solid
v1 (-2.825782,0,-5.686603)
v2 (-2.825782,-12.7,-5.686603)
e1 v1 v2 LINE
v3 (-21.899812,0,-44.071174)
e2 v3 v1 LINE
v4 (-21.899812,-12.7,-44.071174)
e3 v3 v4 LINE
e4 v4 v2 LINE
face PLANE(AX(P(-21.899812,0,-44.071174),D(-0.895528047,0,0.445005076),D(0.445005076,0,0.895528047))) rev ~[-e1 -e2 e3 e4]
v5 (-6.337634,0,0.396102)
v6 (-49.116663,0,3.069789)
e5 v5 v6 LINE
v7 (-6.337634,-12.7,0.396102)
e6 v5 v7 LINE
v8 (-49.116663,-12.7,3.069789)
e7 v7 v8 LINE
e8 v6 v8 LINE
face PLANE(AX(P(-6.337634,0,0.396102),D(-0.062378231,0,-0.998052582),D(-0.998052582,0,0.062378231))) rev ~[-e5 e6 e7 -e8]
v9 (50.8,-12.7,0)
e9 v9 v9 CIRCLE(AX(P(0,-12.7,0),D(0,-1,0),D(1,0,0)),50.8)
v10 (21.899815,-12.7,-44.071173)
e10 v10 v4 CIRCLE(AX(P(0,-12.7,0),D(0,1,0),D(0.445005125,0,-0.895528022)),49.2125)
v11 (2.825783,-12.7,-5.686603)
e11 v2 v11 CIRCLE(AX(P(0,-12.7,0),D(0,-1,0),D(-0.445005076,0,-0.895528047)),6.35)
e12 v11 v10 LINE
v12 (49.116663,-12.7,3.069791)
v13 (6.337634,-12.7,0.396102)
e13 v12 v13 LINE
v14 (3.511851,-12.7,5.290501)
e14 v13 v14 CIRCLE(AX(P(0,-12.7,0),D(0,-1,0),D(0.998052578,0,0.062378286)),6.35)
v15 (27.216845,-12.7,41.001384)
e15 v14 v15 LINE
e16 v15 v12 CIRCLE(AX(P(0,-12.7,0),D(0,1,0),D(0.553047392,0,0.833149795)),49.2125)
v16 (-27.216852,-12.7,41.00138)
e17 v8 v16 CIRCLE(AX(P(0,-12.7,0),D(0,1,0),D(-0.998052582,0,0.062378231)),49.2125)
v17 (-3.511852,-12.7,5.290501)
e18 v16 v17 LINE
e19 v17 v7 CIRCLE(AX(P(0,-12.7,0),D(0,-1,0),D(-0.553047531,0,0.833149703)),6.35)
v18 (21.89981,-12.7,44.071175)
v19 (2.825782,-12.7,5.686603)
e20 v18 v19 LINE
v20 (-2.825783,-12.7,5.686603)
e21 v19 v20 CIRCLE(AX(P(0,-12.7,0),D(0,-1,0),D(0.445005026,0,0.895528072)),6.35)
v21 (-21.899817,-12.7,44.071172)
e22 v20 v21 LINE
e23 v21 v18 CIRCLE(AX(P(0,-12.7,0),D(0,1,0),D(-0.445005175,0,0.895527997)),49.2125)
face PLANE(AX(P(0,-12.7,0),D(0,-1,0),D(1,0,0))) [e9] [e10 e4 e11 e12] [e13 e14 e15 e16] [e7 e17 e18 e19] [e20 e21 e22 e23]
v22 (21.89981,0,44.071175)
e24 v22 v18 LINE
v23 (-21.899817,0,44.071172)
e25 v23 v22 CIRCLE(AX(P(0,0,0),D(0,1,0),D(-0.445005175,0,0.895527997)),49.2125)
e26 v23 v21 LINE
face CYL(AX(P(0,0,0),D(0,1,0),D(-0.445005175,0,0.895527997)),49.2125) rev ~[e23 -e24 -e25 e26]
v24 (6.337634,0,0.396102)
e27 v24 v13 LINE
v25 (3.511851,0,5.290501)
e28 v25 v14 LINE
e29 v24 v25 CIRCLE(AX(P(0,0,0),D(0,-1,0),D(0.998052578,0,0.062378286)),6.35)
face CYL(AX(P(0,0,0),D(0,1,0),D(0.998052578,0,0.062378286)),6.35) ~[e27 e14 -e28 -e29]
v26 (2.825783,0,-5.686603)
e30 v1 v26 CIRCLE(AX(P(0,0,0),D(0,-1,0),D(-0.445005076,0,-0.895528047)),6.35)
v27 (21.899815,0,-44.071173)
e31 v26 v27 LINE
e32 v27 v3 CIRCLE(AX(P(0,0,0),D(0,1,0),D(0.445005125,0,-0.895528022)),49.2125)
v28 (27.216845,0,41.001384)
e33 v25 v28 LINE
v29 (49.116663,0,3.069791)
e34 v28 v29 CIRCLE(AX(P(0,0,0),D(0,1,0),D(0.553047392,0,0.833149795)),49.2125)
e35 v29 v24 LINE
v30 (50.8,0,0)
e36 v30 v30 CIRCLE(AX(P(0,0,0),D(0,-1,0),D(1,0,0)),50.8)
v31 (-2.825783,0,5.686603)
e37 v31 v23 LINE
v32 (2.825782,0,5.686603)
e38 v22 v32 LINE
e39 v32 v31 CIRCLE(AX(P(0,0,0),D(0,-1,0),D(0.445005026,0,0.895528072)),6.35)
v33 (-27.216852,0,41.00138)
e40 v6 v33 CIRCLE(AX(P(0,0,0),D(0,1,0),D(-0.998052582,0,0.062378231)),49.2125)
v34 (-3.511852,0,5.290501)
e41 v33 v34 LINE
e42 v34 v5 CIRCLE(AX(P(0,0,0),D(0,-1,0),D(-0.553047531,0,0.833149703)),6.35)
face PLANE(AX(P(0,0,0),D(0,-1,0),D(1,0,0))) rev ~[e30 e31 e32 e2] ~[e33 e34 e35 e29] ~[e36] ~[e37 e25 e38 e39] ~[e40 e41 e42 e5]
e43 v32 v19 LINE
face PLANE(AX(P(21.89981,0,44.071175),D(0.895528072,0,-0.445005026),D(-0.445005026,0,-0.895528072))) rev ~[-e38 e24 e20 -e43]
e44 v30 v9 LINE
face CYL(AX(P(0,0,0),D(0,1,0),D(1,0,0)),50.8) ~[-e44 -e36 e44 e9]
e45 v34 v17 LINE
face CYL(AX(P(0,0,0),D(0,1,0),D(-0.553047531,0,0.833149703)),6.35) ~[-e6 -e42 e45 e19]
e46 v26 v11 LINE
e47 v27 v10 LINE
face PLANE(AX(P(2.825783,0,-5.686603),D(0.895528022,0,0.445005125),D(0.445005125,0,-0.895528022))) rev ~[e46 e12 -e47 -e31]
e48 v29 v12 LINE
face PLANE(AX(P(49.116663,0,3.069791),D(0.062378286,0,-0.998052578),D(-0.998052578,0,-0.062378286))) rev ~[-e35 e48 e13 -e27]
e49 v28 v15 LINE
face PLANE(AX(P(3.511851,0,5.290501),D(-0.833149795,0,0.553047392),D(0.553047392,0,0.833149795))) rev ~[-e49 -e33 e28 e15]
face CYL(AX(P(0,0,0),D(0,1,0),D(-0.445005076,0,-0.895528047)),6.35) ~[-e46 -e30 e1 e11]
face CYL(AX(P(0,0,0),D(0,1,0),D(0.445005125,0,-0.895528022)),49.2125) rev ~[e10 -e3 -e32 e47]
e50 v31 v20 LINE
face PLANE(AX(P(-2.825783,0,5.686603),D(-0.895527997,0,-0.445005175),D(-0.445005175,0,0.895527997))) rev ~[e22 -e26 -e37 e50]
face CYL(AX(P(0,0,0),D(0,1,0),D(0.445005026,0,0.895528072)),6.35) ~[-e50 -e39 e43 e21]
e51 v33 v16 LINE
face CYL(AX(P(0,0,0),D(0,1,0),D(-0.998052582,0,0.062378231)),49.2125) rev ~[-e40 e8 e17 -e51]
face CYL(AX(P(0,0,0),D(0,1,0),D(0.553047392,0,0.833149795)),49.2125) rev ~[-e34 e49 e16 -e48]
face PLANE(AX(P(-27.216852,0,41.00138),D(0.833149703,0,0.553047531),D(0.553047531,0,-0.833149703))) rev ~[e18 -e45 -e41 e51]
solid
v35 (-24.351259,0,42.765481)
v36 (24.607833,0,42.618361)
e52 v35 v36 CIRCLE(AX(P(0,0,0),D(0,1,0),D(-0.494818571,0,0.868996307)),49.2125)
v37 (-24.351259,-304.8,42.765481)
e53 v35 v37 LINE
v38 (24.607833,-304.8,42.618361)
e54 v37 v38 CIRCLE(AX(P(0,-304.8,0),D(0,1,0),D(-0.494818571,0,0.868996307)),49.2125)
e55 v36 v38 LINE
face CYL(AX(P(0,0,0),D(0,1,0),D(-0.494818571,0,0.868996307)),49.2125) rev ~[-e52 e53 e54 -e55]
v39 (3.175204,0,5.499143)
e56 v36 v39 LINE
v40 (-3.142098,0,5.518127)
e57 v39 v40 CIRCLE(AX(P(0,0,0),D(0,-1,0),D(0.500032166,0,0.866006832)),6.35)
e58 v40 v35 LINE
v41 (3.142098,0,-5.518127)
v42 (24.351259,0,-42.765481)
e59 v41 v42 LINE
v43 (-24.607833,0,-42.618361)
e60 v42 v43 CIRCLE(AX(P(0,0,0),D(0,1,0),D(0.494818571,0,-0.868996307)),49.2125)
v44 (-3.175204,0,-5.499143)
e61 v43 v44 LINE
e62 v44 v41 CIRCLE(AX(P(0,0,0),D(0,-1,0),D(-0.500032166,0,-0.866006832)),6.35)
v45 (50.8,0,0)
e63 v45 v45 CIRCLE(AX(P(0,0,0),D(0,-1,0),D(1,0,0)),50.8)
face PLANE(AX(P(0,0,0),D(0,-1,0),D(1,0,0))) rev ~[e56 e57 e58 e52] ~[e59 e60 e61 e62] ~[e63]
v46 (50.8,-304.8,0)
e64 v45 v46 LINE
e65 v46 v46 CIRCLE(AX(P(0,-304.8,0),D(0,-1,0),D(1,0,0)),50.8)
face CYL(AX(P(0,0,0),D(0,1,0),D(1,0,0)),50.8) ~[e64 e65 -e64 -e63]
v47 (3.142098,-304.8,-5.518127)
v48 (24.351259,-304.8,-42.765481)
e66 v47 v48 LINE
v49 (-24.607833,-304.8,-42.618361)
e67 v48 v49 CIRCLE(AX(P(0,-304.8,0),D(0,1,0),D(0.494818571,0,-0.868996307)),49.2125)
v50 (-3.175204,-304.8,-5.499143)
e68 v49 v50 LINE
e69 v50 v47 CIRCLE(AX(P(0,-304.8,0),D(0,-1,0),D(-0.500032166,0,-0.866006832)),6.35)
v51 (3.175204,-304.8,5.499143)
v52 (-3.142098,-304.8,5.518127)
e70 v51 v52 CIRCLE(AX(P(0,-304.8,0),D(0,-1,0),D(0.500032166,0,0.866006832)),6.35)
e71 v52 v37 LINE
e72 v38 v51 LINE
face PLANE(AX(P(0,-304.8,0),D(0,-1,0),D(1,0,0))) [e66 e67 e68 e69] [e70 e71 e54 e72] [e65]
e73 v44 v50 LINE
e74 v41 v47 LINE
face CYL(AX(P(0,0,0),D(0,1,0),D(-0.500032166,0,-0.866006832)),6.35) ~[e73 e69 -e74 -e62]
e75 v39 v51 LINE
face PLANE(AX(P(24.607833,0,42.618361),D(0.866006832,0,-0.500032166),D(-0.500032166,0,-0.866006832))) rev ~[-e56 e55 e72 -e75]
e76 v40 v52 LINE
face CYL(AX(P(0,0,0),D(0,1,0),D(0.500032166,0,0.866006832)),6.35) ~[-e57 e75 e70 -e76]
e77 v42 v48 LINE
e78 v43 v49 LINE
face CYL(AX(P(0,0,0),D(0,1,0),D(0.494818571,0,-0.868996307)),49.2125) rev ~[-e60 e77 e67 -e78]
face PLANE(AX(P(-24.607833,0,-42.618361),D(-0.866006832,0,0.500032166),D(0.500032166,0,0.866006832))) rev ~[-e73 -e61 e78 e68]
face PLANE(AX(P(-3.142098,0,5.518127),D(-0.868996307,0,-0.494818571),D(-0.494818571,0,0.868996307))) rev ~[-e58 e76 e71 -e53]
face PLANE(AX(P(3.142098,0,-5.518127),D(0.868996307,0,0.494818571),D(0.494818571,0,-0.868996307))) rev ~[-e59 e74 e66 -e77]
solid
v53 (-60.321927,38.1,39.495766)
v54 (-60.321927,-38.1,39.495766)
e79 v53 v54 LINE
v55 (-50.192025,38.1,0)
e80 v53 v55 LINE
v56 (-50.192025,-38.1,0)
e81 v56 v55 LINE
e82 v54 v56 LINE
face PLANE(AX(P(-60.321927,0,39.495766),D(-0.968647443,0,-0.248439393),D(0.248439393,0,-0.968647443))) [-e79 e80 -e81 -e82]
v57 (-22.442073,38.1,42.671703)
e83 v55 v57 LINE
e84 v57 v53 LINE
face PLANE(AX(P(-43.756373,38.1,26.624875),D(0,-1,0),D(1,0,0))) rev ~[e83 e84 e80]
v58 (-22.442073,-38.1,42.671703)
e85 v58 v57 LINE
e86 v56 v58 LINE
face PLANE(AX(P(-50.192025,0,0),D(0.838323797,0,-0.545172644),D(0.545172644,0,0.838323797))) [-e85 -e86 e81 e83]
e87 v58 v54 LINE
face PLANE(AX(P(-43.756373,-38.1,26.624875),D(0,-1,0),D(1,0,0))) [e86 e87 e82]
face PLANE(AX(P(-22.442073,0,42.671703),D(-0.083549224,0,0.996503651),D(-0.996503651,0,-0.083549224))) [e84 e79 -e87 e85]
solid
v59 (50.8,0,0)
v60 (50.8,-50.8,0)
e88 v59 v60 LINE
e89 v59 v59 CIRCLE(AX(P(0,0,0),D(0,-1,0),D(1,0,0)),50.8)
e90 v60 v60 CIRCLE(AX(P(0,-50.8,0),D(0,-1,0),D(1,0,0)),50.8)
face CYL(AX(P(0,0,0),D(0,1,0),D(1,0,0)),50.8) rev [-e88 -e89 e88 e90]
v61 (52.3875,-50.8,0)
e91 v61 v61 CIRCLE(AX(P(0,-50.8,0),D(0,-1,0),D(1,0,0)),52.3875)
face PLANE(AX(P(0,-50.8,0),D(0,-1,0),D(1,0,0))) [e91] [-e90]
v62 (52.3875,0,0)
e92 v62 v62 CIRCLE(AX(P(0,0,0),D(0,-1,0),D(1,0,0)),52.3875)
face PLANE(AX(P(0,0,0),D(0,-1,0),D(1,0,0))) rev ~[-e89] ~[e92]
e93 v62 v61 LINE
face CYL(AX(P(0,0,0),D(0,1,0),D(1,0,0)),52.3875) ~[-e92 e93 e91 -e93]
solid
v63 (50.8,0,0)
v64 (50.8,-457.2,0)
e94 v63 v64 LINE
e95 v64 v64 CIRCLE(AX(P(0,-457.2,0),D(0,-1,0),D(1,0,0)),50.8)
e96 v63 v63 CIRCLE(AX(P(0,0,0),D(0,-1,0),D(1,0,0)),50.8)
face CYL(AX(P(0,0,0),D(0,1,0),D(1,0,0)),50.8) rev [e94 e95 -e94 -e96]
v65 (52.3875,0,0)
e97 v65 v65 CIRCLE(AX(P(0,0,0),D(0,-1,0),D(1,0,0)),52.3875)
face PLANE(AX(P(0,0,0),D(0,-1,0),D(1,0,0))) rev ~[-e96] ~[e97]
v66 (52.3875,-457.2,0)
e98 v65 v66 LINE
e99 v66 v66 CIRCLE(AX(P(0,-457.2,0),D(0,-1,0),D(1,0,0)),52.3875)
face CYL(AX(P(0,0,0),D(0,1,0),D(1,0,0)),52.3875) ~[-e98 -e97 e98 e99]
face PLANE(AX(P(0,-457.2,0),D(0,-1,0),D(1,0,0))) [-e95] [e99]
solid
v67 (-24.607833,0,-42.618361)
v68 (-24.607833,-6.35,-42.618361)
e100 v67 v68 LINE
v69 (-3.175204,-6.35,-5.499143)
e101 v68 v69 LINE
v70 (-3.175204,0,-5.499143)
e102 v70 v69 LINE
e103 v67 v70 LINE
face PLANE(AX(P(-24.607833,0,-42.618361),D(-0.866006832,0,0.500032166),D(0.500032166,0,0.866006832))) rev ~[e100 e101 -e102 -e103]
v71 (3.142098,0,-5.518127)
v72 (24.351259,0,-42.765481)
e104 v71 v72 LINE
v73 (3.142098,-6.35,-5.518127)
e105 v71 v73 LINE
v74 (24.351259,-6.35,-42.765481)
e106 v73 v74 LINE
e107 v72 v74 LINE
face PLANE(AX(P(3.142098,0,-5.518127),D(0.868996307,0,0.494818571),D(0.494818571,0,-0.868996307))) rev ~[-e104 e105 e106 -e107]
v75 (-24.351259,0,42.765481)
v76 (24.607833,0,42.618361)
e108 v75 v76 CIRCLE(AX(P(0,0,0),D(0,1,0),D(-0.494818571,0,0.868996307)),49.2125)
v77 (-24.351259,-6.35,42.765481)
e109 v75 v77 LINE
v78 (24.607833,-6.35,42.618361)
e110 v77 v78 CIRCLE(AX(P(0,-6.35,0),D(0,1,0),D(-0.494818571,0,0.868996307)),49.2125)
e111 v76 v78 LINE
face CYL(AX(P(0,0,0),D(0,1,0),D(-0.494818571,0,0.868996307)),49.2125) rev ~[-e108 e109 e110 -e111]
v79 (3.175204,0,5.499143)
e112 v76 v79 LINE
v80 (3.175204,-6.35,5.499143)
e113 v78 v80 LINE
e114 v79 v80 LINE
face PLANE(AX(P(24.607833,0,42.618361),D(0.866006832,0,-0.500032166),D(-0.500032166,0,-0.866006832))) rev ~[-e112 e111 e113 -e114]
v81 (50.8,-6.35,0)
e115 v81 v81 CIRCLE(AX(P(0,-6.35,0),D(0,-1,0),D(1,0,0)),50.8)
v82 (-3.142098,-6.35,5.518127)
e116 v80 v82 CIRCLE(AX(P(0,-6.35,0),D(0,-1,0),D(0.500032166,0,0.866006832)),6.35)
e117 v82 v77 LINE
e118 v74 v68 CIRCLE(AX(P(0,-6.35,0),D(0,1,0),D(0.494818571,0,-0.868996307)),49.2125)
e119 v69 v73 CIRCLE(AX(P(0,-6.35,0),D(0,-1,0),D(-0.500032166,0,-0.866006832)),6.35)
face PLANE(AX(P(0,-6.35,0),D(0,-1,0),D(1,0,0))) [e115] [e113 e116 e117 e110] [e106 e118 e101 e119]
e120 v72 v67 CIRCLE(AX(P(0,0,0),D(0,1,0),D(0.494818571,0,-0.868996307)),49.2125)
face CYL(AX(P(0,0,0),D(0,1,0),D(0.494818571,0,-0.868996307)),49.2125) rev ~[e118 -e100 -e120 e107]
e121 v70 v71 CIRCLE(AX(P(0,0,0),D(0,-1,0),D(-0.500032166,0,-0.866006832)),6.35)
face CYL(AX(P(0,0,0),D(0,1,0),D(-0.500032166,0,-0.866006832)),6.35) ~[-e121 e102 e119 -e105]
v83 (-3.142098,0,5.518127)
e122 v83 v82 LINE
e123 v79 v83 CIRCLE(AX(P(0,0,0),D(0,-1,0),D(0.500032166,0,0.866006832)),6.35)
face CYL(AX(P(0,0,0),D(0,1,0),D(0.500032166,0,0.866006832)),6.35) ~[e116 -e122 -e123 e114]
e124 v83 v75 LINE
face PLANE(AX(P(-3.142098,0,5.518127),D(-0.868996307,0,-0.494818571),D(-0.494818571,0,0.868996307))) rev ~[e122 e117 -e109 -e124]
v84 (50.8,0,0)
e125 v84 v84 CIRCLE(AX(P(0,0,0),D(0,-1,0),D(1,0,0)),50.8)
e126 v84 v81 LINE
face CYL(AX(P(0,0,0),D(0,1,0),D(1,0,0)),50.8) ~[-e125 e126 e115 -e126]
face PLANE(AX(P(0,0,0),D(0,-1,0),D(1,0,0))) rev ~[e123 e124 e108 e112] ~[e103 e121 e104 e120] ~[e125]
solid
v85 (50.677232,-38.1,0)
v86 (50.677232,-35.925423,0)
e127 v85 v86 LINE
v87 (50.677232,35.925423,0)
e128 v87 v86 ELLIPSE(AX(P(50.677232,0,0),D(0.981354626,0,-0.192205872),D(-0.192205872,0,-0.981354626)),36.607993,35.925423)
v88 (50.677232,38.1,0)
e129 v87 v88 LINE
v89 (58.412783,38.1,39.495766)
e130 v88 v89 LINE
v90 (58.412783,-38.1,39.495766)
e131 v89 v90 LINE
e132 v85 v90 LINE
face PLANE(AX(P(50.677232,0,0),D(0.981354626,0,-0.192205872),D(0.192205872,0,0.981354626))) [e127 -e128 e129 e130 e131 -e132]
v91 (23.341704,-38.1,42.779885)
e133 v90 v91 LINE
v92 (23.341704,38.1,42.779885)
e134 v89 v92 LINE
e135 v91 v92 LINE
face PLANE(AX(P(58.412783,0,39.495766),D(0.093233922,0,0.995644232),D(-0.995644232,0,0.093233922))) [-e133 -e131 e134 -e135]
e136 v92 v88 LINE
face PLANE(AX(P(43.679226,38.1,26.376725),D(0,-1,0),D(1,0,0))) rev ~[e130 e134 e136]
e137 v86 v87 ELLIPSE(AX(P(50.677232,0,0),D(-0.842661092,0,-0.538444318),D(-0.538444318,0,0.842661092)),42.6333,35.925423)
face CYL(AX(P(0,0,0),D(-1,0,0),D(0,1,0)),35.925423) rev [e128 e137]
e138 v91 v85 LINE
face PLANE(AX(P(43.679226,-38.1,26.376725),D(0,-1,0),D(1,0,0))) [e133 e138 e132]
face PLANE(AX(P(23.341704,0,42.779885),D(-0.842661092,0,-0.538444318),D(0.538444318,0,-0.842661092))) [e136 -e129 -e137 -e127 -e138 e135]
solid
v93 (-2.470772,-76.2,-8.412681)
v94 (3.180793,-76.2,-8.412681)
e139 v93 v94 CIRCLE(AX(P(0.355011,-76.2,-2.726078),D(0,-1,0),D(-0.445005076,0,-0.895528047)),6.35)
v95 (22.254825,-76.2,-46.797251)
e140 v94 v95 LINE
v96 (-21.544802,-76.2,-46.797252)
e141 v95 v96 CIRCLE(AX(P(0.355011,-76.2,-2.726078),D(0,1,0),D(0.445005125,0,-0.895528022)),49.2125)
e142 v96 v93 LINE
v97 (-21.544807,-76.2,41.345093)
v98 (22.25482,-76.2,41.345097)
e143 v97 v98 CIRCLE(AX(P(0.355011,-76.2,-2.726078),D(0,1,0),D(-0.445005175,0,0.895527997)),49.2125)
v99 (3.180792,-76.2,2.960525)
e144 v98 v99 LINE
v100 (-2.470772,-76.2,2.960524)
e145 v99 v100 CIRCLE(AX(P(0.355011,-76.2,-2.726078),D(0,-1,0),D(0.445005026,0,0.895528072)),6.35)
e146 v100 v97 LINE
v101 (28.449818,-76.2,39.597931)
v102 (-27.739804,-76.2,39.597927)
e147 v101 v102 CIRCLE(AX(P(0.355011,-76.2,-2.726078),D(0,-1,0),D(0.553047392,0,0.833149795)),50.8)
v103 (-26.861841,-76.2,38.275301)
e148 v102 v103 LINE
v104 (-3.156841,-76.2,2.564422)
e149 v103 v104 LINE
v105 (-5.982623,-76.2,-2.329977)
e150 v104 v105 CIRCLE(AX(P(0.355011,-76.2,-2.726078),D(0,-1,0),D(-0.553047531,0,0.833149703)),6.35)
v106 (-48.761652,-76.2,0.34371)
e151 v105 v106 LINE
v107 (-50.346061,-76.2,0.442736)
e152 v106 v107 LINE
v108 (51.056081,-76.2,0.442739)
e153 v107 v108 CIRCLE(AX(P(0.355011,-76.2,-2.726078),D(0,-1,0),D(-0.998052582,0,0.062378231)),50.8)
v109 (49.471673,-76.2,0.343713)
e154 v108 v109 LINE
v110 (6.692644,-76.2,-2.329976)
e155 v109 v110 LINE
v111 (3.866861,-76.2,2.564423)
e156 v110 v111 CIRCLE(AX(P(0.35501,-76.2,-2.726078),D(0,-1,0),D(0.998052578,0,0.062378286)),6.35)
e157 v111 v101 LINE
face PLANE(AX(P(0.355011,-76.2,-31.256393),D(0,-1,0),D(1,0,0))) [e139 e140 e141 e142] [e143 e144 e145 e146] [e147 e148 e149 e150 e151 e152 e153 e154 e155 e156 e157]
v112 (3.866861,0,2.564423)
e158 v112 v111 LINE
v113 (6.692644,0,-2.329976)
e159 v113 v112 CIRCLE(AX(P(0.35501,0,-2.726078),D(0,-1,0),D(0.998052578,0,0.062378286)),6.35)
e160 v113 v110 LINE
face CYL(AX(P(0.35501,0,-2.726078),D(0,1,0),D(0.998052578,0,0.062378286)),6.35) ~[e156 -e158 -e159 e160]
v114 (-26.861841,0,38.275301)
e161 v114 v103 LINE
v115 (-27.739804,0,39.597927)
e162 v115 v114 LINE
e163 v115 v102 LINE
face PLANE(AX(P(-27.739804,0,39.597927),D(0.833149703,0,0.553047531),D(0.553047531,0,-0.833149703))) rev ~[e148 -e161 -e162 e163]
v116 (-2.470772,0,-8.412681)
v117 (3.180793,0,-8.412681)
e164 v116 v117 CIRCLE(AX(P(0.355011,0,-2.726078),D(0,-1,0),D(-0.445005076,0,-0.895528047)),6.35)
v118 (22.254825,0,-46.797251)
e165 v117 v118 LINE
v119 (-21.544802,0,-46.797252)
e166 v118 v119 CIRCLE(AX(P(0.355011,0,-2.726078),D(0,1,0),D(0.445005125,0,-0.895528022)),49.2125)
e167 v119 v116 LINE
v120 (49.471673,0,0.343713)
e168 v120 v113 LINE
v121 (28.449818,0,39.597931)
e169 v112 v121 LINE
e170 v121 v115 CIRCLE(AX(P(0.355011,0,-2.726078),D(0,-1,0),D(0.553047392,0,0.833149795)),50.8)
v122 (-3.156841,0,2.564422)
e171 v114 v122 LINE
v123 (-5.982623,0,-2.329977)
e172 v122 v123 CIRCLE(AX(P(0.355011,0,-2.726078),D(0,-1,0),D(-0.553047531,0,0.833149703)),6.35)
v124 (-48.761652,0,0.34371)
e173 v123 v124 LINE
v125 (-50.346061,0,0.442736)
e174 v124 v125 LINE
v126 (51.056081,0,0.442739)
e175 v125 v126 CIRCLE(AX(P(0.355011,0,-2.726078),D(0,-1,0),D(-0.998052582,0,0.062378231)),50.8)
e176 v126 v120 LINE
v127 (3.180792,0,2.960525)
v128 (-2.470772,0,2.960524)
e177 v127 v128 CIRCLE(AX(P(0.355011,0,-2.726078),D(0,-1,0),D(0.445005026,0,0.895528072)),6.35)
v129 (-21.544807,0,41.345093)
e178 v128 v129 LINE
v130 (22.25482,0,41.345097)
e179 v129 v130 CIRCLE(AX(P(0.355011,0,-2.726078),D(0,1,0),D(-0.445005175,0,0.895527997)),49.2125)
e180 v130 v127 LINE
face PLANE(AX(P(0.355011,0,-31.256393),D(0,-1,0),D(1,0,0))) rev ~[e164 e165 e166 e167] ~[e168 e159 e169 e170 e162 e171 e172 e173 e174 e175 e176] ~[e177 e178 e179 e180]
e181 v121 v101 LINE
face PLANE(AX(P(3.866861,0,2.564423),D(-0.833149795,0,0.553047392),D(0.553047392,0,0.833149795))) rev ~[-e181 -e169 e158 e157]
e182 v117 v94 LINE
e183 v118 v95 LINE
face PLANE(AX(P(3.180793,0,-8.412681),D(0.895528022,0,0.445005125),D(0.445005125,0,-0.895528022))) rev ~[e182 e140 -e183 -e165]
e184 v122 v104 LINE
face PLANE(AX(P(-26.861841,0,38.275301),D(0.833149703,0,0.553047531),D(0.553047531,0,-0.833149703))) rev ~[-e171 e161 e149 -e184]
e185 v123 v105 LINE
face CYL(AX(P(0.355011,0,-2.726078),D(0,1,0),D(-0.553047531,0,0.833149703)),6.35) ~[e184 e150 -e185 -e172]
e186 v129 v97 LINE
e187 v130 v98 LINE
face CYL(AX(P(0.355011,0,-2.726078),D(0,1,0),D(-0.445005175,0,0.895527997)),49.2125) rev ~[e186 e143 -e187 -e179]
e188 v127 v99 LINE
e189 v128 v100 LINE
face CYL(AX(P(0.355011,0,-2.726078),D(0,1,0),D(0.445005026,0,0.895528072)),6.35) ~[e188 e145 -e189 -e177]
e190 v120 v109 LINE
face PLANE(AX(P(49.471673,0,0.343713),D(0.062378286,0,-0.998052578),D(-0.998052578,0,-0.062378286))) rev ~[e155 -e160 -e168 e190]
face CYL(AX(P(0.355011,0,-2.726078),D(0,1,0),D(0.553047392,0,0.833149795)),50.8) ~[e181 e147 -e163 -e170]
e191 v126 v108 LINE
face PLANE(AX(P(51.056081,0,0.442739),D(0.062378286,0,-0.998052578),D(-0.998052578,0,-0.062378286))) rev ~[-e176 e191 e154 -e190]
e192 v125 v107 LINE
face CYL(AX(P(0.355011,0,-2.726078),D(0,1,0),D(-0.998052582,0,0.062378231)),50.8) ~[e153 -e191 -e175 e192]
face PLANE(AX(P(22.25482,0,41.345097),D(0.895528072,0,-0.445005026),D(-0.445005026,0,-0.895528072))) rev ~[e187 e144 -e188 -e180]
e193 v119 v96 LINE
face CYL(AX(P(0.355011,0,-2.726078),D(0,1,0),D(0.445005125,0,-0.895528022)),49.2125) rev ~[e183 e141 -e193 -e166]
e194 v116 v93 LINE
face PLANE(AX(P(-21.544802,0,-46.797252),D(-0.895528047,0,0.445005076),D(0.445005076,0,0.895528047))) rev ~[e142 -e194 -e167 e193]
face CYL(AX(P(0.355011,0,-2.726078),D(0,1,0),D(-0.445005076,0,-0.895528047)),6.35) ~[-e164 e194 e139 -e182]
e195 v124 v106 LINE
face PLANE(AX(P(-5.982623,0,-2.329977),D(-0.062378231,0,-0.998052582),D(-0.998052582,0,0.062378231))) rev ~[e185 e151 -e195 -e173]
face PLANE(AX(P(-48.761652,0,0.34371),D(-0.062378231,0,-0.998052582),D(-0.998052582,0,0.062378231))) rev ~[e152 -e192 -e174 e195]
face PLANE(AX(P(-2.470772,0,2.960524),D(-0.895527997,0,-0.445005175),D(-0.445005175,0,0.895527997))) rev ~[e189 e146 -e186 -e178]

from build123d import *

# Parameters (mm, degrees)
F0_R      = 50.8
F1_DEPTH  = 12.7
F2_R      = 50.8
F3_DEPTH  = 304.8
F5_DEPTH  = 76.2
F6_DEPTH  = 6.35
F7_R      = 52.3875
F7_R_2    = 50.8
F8_DEPTH  = 457.2
F9_DEPTH  = 50.8
F11_DEPTH = 38.1
F13_DEPTH = 58.4137828479


with BuildPart() as f1:
    # F0 (on Front) → F1 (new body)
    with BuildSketch(Plane.XZ):
        Circle(F0_R)
        with BuildLine():
            ThreePointArc((-2.8257822299, -5.6866030976), (1.766e-07, -6.35), (2.8257825462, -5.6866029404))
            Line((2.8257825462, -5.6866029404), (21.8998147334, -44.0711727878))
            ThreePointArc((21.8998147334, -44.0711727878), (1.3688e-06, -49.2125), (-21.8998122818, -44.0711740061))
            Line((-21.8998122818, -44.0711740061), (-2.8257822299, -5.6866030976))
        make_face(mode=Mode.SUBTRACT)
        with BuildLine():
            Line((-27.2168516436, 41.0013797678), (-3.511851825, 5.2905006152))
            ThreePointArc((-3.511851825, 5.2905006152), (-5.4992615201, 3.1749996431), (-6.3376338954, 0.3961017645))
            Line((-6.3376338954, 0.3961017645), (-49.1166626894, 3.0697886751))
            ThreePointArc((-49.1166626894, 3.0697886751), (-42.6192767807, 24.606247234), (-27.2168516436, 41.0013797678))
        make_face(mode=Mode.SUBTRACT)
        with BuildLine():
            ThreePointArc((2.8257819136, 5.6866032548), (-5.299e-07, 6.35), (-2.8257828626, 5.6866027832))
            Line((-2.8257828626, 5.6866027832), (-21.899817185, 44.0711715696))
            ThreePointArc((-21.899817185, 44.0711715696), (-4.1064e-06, 49.2125), (21.8998098301, 44.0711752243))
            Line((21.8998098301, 44.0711752243), (2.8257819136, 5.6866032548))
        make_face(mode=Mode.SUBTRACT)
        with BuildLine():
            ThreePointArc((27.216844801, 41.0013843099), (42.6192740431, 24.6062519757), (49.1166625186, 3.0697914074))
            Line((49.1166625186, 3.0697914074), (6.3376338734, 0.3961021171))
            ThreePointArc((6.3376338734, 0.3961021171), (5.4992611668, 3.1750002549), (3.5118509421, 5.2905012013))
            Line((3.5118509421, 5.2905012013), (27.216844801, 41.0013843099))
        make_face(mode=Mode.SUBTRACT)
    extrude(amount=F1_DEPTH)


with BuildPart() as f3:
    # F2 (on Front) → F3 (new body)
    with BuildSketch(Plane.XZ):
        Circle(F2_R)
        with BuildLine():
            ThreePointArc((24.3512589376, -42.7654807573), (-0.1478803566, -49.2122778141), (-24.6078329789, -42.6183612112))
            Line((-24.6078329789, -42.6183612112), (-3.1752042553, -5.4991433821))
            ThreePointArc((-3.1752042553, -5.4991433821), (-0.0190813363, -6.3499713308), (3.1420979274, -5.5181265493))
            Line((3.1420979274, -5.5181265493), (24.3512589376, -42.7654807573))
        make_face(mode=Mode.SUBTRACT)
        with BuildLine():
            Line((24.6078329789, 42.6183612112), (3.1752042553, 5.4991433821))
            ThreePointArc((3.1752042553, 5.4991433821), (0.0190813363, 6.3499713308), (-3.1420979274, 5.5181265493))
            Line((-3.1420979274, 5.5181265493), (-24.3512589376, 42.7654807573))
            ThreePointArc((-24.3512589376, 42.7654807573), (0.1478803566, 49.2122778141), (24.6078329789, 42.6183612112))
        make_face(mode=Mode.SUBTRACT)
    extrude(amount=F3_DEPTH)


with BuildPart() as f5:
    # F4 (on Front) → F5 (new body)
    with BuildSketch(Plane.XZ):
        with BuildLine():
            ThreePointArc((-21.5448017816, -46.7972523877), (-42.2642635429, -27.3323303573), (-48.7616521892, 0.3437102935))
            Line((-48.7616521892, 0.3437102935), (-50.346060663, 0.4427357347))
            ThreePointArc((-50.346060663, 0.4427357347), (0.3550119132, -53.5260783816), (51.0560814871, 0.4427385551))
            Line((51.0560814871, 0.4427385551), (49.4716730188, 0.3437130258))
            ThreePointArc((49.4716730188, 0.3437130258), (42.9742859121, -27.3323279864), (22.2548252336, -46.7972511694))
            ThreePointArc((22.2548252336, -46.7972511694), (0.355011869, -51.9385783816), (-21.5448017816, -46.7972523877))
        make_face()
        with BuildLine():
            Line((-26.8618411434, 38.2753013862), (-3.1568413248, 2.5644222336))
            ThreePointArc((-3.1568413248, 2.5644222336), (-5.1442510199, 0.4489212615), (-5.9826233952, -2.3299766171))
            Line((-5.9826233952, -2.3299766171), (-48.7616521892, 0.3437102935))
            ThreePointArc((-48.7616521892, 0.3437102935), (-42.2642635429, -27.3323303573), (-21.5448017816, -46.7972523877))
            Line((-21.5448017816, -46.7972523877), (-2.4707717297, -8.4126814791))
            ThreePointArc((-2.4707717297, -8.4126814791), (0.3550106768, -9.0760783816), (3.1807930464, -8.412681322))
            Line((3.1807930464, -8.412681322), (22.2548252336, -46.7972511694))
            ThreePointArc((22.2548252336, -46.7972511694), (42.9742859121, -27.3323279864), (49.4716730188, 0.3437130258))
            Line((49.4716730188, 0.3437130258), (6.6926443736, -2.3299762645))
            ThreePointArc((6.6926443736, -2.3299762645), (5.854271667, 0.4489218733), (3.8668614423, 2.5644228197))
            Line((3.8668614423, 2.5644228197), (28.4498180367, 39.5979312286))
            ThreePointArc((28.4498180367, 39.5979312286), (0.3550062613, 48.0739216184), (-27.7398040996, 39.59792654))
            Line((-27.7398040996, 39.59792654), (-26.8618411434, 38.2753013862))
        make_face()
        with BuildLine():
            ThreePointArc((3.1807924138, 2.9605248732), (0.3550099703, 3.6239216184), (-2.4707723624, 2.9605244016))
            Line((-2.4707723624, 2.9605244016), (-21.5448066848, 41.345093188))
            ThreePointArc((-21.5448066848, 41.345093188), (0.3550063938, 46.4864216184), (22.2548203303, 41.3450968427))
            Line((22.2548203303, 41.3450968427), (3.1807924138, 2.9605248732))
        make_face(mode=Mode.SUBTRACT)
    extrude(amount=F5_DEPTH)


with BuildPart() as f6:
    # F2 (on Front) → F6 (new body)
    with BuildSketch(Plane.XZ):
        Circle(F2_R)
        with BuildLine():
            ThreePointArc((24.3512589376, -42.7654807573), (-0.1478803566, -49.2122778141), (-24.6078329789, -42.6183612112))
            Line((-24.6078329789, -42.6183612112), (-3.1752042553, -5.4991433821))
            ThreePointArc((-3.1752042553, -5.4991433821), (-0.0190813363, -6.3499713308), (3.1420979274, -5.5181265493))
            Line((3.1420979274, -5.5181265493), (24.3512589376, -42.7654807573))
        make_face(mode=Mode.SUBTRACT)
        with BuildLine():
            Line((24.6078329789, 42.6183612112), (3.1752042553, 5.4991433821))
            ThreePointArc((3.1752042553, 5.4991433821), (0.0190813363, 6.3499713308), (-3.1420979274, 5.5181265493))
            Line((-3.1420979274, 5.5181265493), (-24.3512589376, 42.7654807573))
            ThreePointArc((-24.3512589376, 42.7654807573), (0.1478803566, 49.2122778141), (24.6078329789, 42.6183612112))
        make_face(mode=Mode.SUBTRACT)
    extrude(amount=F6_DEPTH)


with BuildPart() as f8:
    # F7 (on Front) → F8 (new body)
    with BuildSketch(Plane.XZ):
        Circle(F7_R)
        Circle(F7_R_2, mode=Mode.SUBTRACT)
    extrude(amount=F8_DEPTH)


with BuildPart() as f9:
    # F7 (on Front) → F9 (new body)
    with BuildSketch(Plane.XZ):
        Circle(F7_R)
        Circle(F7_R_2, mode=Mode.SUBTRACT)
    extrude(amount=F9_DEPTH)


with BuildPart() as f11:
    # F10 (on Front) → F11 (new body, symmetric)
    with BuildSketch(Plane.XZ):
        Polygon((50.6772324443, 0), (58.4127828479, 39.4957661629), (23.34170416, 42.7798852324), align=None)
    extrude(amount=F11_DEPTH, both=True)

    # F12 (on Right) → F13 (cut, through all)
    with BuildSketch(Plane.YZ):
        with BuildLine():
            Line((0, 0), (35.9254231564, 0))
            ThreePointArc((35.9254231564, 0), (0, 35.9254231564), (-35.9254231564, 0))
            Line((-35.9254231564, 0), (0, 0))
        make_face()
    extrude(amount=F13_DEPTH, mode=Mode.SUBTRACT)


with BuildPart() as f11b:
    # F10 (on Front) → F11, piece 2 (new body, symmetric)
    with BuildSketch(Plane.XZ):
        Polygon((-22.4420726299, 42.6717028022), (-60.3219270706, 39.4957661629), (-50.1920245588, 0), align=None)
    extrude(amount=F11_DEPTH, both=True)


solid = Compound([f1.part, f3.part, f5.part, f6.part, f8.part, f9.part, f11.part, f11b.part])
